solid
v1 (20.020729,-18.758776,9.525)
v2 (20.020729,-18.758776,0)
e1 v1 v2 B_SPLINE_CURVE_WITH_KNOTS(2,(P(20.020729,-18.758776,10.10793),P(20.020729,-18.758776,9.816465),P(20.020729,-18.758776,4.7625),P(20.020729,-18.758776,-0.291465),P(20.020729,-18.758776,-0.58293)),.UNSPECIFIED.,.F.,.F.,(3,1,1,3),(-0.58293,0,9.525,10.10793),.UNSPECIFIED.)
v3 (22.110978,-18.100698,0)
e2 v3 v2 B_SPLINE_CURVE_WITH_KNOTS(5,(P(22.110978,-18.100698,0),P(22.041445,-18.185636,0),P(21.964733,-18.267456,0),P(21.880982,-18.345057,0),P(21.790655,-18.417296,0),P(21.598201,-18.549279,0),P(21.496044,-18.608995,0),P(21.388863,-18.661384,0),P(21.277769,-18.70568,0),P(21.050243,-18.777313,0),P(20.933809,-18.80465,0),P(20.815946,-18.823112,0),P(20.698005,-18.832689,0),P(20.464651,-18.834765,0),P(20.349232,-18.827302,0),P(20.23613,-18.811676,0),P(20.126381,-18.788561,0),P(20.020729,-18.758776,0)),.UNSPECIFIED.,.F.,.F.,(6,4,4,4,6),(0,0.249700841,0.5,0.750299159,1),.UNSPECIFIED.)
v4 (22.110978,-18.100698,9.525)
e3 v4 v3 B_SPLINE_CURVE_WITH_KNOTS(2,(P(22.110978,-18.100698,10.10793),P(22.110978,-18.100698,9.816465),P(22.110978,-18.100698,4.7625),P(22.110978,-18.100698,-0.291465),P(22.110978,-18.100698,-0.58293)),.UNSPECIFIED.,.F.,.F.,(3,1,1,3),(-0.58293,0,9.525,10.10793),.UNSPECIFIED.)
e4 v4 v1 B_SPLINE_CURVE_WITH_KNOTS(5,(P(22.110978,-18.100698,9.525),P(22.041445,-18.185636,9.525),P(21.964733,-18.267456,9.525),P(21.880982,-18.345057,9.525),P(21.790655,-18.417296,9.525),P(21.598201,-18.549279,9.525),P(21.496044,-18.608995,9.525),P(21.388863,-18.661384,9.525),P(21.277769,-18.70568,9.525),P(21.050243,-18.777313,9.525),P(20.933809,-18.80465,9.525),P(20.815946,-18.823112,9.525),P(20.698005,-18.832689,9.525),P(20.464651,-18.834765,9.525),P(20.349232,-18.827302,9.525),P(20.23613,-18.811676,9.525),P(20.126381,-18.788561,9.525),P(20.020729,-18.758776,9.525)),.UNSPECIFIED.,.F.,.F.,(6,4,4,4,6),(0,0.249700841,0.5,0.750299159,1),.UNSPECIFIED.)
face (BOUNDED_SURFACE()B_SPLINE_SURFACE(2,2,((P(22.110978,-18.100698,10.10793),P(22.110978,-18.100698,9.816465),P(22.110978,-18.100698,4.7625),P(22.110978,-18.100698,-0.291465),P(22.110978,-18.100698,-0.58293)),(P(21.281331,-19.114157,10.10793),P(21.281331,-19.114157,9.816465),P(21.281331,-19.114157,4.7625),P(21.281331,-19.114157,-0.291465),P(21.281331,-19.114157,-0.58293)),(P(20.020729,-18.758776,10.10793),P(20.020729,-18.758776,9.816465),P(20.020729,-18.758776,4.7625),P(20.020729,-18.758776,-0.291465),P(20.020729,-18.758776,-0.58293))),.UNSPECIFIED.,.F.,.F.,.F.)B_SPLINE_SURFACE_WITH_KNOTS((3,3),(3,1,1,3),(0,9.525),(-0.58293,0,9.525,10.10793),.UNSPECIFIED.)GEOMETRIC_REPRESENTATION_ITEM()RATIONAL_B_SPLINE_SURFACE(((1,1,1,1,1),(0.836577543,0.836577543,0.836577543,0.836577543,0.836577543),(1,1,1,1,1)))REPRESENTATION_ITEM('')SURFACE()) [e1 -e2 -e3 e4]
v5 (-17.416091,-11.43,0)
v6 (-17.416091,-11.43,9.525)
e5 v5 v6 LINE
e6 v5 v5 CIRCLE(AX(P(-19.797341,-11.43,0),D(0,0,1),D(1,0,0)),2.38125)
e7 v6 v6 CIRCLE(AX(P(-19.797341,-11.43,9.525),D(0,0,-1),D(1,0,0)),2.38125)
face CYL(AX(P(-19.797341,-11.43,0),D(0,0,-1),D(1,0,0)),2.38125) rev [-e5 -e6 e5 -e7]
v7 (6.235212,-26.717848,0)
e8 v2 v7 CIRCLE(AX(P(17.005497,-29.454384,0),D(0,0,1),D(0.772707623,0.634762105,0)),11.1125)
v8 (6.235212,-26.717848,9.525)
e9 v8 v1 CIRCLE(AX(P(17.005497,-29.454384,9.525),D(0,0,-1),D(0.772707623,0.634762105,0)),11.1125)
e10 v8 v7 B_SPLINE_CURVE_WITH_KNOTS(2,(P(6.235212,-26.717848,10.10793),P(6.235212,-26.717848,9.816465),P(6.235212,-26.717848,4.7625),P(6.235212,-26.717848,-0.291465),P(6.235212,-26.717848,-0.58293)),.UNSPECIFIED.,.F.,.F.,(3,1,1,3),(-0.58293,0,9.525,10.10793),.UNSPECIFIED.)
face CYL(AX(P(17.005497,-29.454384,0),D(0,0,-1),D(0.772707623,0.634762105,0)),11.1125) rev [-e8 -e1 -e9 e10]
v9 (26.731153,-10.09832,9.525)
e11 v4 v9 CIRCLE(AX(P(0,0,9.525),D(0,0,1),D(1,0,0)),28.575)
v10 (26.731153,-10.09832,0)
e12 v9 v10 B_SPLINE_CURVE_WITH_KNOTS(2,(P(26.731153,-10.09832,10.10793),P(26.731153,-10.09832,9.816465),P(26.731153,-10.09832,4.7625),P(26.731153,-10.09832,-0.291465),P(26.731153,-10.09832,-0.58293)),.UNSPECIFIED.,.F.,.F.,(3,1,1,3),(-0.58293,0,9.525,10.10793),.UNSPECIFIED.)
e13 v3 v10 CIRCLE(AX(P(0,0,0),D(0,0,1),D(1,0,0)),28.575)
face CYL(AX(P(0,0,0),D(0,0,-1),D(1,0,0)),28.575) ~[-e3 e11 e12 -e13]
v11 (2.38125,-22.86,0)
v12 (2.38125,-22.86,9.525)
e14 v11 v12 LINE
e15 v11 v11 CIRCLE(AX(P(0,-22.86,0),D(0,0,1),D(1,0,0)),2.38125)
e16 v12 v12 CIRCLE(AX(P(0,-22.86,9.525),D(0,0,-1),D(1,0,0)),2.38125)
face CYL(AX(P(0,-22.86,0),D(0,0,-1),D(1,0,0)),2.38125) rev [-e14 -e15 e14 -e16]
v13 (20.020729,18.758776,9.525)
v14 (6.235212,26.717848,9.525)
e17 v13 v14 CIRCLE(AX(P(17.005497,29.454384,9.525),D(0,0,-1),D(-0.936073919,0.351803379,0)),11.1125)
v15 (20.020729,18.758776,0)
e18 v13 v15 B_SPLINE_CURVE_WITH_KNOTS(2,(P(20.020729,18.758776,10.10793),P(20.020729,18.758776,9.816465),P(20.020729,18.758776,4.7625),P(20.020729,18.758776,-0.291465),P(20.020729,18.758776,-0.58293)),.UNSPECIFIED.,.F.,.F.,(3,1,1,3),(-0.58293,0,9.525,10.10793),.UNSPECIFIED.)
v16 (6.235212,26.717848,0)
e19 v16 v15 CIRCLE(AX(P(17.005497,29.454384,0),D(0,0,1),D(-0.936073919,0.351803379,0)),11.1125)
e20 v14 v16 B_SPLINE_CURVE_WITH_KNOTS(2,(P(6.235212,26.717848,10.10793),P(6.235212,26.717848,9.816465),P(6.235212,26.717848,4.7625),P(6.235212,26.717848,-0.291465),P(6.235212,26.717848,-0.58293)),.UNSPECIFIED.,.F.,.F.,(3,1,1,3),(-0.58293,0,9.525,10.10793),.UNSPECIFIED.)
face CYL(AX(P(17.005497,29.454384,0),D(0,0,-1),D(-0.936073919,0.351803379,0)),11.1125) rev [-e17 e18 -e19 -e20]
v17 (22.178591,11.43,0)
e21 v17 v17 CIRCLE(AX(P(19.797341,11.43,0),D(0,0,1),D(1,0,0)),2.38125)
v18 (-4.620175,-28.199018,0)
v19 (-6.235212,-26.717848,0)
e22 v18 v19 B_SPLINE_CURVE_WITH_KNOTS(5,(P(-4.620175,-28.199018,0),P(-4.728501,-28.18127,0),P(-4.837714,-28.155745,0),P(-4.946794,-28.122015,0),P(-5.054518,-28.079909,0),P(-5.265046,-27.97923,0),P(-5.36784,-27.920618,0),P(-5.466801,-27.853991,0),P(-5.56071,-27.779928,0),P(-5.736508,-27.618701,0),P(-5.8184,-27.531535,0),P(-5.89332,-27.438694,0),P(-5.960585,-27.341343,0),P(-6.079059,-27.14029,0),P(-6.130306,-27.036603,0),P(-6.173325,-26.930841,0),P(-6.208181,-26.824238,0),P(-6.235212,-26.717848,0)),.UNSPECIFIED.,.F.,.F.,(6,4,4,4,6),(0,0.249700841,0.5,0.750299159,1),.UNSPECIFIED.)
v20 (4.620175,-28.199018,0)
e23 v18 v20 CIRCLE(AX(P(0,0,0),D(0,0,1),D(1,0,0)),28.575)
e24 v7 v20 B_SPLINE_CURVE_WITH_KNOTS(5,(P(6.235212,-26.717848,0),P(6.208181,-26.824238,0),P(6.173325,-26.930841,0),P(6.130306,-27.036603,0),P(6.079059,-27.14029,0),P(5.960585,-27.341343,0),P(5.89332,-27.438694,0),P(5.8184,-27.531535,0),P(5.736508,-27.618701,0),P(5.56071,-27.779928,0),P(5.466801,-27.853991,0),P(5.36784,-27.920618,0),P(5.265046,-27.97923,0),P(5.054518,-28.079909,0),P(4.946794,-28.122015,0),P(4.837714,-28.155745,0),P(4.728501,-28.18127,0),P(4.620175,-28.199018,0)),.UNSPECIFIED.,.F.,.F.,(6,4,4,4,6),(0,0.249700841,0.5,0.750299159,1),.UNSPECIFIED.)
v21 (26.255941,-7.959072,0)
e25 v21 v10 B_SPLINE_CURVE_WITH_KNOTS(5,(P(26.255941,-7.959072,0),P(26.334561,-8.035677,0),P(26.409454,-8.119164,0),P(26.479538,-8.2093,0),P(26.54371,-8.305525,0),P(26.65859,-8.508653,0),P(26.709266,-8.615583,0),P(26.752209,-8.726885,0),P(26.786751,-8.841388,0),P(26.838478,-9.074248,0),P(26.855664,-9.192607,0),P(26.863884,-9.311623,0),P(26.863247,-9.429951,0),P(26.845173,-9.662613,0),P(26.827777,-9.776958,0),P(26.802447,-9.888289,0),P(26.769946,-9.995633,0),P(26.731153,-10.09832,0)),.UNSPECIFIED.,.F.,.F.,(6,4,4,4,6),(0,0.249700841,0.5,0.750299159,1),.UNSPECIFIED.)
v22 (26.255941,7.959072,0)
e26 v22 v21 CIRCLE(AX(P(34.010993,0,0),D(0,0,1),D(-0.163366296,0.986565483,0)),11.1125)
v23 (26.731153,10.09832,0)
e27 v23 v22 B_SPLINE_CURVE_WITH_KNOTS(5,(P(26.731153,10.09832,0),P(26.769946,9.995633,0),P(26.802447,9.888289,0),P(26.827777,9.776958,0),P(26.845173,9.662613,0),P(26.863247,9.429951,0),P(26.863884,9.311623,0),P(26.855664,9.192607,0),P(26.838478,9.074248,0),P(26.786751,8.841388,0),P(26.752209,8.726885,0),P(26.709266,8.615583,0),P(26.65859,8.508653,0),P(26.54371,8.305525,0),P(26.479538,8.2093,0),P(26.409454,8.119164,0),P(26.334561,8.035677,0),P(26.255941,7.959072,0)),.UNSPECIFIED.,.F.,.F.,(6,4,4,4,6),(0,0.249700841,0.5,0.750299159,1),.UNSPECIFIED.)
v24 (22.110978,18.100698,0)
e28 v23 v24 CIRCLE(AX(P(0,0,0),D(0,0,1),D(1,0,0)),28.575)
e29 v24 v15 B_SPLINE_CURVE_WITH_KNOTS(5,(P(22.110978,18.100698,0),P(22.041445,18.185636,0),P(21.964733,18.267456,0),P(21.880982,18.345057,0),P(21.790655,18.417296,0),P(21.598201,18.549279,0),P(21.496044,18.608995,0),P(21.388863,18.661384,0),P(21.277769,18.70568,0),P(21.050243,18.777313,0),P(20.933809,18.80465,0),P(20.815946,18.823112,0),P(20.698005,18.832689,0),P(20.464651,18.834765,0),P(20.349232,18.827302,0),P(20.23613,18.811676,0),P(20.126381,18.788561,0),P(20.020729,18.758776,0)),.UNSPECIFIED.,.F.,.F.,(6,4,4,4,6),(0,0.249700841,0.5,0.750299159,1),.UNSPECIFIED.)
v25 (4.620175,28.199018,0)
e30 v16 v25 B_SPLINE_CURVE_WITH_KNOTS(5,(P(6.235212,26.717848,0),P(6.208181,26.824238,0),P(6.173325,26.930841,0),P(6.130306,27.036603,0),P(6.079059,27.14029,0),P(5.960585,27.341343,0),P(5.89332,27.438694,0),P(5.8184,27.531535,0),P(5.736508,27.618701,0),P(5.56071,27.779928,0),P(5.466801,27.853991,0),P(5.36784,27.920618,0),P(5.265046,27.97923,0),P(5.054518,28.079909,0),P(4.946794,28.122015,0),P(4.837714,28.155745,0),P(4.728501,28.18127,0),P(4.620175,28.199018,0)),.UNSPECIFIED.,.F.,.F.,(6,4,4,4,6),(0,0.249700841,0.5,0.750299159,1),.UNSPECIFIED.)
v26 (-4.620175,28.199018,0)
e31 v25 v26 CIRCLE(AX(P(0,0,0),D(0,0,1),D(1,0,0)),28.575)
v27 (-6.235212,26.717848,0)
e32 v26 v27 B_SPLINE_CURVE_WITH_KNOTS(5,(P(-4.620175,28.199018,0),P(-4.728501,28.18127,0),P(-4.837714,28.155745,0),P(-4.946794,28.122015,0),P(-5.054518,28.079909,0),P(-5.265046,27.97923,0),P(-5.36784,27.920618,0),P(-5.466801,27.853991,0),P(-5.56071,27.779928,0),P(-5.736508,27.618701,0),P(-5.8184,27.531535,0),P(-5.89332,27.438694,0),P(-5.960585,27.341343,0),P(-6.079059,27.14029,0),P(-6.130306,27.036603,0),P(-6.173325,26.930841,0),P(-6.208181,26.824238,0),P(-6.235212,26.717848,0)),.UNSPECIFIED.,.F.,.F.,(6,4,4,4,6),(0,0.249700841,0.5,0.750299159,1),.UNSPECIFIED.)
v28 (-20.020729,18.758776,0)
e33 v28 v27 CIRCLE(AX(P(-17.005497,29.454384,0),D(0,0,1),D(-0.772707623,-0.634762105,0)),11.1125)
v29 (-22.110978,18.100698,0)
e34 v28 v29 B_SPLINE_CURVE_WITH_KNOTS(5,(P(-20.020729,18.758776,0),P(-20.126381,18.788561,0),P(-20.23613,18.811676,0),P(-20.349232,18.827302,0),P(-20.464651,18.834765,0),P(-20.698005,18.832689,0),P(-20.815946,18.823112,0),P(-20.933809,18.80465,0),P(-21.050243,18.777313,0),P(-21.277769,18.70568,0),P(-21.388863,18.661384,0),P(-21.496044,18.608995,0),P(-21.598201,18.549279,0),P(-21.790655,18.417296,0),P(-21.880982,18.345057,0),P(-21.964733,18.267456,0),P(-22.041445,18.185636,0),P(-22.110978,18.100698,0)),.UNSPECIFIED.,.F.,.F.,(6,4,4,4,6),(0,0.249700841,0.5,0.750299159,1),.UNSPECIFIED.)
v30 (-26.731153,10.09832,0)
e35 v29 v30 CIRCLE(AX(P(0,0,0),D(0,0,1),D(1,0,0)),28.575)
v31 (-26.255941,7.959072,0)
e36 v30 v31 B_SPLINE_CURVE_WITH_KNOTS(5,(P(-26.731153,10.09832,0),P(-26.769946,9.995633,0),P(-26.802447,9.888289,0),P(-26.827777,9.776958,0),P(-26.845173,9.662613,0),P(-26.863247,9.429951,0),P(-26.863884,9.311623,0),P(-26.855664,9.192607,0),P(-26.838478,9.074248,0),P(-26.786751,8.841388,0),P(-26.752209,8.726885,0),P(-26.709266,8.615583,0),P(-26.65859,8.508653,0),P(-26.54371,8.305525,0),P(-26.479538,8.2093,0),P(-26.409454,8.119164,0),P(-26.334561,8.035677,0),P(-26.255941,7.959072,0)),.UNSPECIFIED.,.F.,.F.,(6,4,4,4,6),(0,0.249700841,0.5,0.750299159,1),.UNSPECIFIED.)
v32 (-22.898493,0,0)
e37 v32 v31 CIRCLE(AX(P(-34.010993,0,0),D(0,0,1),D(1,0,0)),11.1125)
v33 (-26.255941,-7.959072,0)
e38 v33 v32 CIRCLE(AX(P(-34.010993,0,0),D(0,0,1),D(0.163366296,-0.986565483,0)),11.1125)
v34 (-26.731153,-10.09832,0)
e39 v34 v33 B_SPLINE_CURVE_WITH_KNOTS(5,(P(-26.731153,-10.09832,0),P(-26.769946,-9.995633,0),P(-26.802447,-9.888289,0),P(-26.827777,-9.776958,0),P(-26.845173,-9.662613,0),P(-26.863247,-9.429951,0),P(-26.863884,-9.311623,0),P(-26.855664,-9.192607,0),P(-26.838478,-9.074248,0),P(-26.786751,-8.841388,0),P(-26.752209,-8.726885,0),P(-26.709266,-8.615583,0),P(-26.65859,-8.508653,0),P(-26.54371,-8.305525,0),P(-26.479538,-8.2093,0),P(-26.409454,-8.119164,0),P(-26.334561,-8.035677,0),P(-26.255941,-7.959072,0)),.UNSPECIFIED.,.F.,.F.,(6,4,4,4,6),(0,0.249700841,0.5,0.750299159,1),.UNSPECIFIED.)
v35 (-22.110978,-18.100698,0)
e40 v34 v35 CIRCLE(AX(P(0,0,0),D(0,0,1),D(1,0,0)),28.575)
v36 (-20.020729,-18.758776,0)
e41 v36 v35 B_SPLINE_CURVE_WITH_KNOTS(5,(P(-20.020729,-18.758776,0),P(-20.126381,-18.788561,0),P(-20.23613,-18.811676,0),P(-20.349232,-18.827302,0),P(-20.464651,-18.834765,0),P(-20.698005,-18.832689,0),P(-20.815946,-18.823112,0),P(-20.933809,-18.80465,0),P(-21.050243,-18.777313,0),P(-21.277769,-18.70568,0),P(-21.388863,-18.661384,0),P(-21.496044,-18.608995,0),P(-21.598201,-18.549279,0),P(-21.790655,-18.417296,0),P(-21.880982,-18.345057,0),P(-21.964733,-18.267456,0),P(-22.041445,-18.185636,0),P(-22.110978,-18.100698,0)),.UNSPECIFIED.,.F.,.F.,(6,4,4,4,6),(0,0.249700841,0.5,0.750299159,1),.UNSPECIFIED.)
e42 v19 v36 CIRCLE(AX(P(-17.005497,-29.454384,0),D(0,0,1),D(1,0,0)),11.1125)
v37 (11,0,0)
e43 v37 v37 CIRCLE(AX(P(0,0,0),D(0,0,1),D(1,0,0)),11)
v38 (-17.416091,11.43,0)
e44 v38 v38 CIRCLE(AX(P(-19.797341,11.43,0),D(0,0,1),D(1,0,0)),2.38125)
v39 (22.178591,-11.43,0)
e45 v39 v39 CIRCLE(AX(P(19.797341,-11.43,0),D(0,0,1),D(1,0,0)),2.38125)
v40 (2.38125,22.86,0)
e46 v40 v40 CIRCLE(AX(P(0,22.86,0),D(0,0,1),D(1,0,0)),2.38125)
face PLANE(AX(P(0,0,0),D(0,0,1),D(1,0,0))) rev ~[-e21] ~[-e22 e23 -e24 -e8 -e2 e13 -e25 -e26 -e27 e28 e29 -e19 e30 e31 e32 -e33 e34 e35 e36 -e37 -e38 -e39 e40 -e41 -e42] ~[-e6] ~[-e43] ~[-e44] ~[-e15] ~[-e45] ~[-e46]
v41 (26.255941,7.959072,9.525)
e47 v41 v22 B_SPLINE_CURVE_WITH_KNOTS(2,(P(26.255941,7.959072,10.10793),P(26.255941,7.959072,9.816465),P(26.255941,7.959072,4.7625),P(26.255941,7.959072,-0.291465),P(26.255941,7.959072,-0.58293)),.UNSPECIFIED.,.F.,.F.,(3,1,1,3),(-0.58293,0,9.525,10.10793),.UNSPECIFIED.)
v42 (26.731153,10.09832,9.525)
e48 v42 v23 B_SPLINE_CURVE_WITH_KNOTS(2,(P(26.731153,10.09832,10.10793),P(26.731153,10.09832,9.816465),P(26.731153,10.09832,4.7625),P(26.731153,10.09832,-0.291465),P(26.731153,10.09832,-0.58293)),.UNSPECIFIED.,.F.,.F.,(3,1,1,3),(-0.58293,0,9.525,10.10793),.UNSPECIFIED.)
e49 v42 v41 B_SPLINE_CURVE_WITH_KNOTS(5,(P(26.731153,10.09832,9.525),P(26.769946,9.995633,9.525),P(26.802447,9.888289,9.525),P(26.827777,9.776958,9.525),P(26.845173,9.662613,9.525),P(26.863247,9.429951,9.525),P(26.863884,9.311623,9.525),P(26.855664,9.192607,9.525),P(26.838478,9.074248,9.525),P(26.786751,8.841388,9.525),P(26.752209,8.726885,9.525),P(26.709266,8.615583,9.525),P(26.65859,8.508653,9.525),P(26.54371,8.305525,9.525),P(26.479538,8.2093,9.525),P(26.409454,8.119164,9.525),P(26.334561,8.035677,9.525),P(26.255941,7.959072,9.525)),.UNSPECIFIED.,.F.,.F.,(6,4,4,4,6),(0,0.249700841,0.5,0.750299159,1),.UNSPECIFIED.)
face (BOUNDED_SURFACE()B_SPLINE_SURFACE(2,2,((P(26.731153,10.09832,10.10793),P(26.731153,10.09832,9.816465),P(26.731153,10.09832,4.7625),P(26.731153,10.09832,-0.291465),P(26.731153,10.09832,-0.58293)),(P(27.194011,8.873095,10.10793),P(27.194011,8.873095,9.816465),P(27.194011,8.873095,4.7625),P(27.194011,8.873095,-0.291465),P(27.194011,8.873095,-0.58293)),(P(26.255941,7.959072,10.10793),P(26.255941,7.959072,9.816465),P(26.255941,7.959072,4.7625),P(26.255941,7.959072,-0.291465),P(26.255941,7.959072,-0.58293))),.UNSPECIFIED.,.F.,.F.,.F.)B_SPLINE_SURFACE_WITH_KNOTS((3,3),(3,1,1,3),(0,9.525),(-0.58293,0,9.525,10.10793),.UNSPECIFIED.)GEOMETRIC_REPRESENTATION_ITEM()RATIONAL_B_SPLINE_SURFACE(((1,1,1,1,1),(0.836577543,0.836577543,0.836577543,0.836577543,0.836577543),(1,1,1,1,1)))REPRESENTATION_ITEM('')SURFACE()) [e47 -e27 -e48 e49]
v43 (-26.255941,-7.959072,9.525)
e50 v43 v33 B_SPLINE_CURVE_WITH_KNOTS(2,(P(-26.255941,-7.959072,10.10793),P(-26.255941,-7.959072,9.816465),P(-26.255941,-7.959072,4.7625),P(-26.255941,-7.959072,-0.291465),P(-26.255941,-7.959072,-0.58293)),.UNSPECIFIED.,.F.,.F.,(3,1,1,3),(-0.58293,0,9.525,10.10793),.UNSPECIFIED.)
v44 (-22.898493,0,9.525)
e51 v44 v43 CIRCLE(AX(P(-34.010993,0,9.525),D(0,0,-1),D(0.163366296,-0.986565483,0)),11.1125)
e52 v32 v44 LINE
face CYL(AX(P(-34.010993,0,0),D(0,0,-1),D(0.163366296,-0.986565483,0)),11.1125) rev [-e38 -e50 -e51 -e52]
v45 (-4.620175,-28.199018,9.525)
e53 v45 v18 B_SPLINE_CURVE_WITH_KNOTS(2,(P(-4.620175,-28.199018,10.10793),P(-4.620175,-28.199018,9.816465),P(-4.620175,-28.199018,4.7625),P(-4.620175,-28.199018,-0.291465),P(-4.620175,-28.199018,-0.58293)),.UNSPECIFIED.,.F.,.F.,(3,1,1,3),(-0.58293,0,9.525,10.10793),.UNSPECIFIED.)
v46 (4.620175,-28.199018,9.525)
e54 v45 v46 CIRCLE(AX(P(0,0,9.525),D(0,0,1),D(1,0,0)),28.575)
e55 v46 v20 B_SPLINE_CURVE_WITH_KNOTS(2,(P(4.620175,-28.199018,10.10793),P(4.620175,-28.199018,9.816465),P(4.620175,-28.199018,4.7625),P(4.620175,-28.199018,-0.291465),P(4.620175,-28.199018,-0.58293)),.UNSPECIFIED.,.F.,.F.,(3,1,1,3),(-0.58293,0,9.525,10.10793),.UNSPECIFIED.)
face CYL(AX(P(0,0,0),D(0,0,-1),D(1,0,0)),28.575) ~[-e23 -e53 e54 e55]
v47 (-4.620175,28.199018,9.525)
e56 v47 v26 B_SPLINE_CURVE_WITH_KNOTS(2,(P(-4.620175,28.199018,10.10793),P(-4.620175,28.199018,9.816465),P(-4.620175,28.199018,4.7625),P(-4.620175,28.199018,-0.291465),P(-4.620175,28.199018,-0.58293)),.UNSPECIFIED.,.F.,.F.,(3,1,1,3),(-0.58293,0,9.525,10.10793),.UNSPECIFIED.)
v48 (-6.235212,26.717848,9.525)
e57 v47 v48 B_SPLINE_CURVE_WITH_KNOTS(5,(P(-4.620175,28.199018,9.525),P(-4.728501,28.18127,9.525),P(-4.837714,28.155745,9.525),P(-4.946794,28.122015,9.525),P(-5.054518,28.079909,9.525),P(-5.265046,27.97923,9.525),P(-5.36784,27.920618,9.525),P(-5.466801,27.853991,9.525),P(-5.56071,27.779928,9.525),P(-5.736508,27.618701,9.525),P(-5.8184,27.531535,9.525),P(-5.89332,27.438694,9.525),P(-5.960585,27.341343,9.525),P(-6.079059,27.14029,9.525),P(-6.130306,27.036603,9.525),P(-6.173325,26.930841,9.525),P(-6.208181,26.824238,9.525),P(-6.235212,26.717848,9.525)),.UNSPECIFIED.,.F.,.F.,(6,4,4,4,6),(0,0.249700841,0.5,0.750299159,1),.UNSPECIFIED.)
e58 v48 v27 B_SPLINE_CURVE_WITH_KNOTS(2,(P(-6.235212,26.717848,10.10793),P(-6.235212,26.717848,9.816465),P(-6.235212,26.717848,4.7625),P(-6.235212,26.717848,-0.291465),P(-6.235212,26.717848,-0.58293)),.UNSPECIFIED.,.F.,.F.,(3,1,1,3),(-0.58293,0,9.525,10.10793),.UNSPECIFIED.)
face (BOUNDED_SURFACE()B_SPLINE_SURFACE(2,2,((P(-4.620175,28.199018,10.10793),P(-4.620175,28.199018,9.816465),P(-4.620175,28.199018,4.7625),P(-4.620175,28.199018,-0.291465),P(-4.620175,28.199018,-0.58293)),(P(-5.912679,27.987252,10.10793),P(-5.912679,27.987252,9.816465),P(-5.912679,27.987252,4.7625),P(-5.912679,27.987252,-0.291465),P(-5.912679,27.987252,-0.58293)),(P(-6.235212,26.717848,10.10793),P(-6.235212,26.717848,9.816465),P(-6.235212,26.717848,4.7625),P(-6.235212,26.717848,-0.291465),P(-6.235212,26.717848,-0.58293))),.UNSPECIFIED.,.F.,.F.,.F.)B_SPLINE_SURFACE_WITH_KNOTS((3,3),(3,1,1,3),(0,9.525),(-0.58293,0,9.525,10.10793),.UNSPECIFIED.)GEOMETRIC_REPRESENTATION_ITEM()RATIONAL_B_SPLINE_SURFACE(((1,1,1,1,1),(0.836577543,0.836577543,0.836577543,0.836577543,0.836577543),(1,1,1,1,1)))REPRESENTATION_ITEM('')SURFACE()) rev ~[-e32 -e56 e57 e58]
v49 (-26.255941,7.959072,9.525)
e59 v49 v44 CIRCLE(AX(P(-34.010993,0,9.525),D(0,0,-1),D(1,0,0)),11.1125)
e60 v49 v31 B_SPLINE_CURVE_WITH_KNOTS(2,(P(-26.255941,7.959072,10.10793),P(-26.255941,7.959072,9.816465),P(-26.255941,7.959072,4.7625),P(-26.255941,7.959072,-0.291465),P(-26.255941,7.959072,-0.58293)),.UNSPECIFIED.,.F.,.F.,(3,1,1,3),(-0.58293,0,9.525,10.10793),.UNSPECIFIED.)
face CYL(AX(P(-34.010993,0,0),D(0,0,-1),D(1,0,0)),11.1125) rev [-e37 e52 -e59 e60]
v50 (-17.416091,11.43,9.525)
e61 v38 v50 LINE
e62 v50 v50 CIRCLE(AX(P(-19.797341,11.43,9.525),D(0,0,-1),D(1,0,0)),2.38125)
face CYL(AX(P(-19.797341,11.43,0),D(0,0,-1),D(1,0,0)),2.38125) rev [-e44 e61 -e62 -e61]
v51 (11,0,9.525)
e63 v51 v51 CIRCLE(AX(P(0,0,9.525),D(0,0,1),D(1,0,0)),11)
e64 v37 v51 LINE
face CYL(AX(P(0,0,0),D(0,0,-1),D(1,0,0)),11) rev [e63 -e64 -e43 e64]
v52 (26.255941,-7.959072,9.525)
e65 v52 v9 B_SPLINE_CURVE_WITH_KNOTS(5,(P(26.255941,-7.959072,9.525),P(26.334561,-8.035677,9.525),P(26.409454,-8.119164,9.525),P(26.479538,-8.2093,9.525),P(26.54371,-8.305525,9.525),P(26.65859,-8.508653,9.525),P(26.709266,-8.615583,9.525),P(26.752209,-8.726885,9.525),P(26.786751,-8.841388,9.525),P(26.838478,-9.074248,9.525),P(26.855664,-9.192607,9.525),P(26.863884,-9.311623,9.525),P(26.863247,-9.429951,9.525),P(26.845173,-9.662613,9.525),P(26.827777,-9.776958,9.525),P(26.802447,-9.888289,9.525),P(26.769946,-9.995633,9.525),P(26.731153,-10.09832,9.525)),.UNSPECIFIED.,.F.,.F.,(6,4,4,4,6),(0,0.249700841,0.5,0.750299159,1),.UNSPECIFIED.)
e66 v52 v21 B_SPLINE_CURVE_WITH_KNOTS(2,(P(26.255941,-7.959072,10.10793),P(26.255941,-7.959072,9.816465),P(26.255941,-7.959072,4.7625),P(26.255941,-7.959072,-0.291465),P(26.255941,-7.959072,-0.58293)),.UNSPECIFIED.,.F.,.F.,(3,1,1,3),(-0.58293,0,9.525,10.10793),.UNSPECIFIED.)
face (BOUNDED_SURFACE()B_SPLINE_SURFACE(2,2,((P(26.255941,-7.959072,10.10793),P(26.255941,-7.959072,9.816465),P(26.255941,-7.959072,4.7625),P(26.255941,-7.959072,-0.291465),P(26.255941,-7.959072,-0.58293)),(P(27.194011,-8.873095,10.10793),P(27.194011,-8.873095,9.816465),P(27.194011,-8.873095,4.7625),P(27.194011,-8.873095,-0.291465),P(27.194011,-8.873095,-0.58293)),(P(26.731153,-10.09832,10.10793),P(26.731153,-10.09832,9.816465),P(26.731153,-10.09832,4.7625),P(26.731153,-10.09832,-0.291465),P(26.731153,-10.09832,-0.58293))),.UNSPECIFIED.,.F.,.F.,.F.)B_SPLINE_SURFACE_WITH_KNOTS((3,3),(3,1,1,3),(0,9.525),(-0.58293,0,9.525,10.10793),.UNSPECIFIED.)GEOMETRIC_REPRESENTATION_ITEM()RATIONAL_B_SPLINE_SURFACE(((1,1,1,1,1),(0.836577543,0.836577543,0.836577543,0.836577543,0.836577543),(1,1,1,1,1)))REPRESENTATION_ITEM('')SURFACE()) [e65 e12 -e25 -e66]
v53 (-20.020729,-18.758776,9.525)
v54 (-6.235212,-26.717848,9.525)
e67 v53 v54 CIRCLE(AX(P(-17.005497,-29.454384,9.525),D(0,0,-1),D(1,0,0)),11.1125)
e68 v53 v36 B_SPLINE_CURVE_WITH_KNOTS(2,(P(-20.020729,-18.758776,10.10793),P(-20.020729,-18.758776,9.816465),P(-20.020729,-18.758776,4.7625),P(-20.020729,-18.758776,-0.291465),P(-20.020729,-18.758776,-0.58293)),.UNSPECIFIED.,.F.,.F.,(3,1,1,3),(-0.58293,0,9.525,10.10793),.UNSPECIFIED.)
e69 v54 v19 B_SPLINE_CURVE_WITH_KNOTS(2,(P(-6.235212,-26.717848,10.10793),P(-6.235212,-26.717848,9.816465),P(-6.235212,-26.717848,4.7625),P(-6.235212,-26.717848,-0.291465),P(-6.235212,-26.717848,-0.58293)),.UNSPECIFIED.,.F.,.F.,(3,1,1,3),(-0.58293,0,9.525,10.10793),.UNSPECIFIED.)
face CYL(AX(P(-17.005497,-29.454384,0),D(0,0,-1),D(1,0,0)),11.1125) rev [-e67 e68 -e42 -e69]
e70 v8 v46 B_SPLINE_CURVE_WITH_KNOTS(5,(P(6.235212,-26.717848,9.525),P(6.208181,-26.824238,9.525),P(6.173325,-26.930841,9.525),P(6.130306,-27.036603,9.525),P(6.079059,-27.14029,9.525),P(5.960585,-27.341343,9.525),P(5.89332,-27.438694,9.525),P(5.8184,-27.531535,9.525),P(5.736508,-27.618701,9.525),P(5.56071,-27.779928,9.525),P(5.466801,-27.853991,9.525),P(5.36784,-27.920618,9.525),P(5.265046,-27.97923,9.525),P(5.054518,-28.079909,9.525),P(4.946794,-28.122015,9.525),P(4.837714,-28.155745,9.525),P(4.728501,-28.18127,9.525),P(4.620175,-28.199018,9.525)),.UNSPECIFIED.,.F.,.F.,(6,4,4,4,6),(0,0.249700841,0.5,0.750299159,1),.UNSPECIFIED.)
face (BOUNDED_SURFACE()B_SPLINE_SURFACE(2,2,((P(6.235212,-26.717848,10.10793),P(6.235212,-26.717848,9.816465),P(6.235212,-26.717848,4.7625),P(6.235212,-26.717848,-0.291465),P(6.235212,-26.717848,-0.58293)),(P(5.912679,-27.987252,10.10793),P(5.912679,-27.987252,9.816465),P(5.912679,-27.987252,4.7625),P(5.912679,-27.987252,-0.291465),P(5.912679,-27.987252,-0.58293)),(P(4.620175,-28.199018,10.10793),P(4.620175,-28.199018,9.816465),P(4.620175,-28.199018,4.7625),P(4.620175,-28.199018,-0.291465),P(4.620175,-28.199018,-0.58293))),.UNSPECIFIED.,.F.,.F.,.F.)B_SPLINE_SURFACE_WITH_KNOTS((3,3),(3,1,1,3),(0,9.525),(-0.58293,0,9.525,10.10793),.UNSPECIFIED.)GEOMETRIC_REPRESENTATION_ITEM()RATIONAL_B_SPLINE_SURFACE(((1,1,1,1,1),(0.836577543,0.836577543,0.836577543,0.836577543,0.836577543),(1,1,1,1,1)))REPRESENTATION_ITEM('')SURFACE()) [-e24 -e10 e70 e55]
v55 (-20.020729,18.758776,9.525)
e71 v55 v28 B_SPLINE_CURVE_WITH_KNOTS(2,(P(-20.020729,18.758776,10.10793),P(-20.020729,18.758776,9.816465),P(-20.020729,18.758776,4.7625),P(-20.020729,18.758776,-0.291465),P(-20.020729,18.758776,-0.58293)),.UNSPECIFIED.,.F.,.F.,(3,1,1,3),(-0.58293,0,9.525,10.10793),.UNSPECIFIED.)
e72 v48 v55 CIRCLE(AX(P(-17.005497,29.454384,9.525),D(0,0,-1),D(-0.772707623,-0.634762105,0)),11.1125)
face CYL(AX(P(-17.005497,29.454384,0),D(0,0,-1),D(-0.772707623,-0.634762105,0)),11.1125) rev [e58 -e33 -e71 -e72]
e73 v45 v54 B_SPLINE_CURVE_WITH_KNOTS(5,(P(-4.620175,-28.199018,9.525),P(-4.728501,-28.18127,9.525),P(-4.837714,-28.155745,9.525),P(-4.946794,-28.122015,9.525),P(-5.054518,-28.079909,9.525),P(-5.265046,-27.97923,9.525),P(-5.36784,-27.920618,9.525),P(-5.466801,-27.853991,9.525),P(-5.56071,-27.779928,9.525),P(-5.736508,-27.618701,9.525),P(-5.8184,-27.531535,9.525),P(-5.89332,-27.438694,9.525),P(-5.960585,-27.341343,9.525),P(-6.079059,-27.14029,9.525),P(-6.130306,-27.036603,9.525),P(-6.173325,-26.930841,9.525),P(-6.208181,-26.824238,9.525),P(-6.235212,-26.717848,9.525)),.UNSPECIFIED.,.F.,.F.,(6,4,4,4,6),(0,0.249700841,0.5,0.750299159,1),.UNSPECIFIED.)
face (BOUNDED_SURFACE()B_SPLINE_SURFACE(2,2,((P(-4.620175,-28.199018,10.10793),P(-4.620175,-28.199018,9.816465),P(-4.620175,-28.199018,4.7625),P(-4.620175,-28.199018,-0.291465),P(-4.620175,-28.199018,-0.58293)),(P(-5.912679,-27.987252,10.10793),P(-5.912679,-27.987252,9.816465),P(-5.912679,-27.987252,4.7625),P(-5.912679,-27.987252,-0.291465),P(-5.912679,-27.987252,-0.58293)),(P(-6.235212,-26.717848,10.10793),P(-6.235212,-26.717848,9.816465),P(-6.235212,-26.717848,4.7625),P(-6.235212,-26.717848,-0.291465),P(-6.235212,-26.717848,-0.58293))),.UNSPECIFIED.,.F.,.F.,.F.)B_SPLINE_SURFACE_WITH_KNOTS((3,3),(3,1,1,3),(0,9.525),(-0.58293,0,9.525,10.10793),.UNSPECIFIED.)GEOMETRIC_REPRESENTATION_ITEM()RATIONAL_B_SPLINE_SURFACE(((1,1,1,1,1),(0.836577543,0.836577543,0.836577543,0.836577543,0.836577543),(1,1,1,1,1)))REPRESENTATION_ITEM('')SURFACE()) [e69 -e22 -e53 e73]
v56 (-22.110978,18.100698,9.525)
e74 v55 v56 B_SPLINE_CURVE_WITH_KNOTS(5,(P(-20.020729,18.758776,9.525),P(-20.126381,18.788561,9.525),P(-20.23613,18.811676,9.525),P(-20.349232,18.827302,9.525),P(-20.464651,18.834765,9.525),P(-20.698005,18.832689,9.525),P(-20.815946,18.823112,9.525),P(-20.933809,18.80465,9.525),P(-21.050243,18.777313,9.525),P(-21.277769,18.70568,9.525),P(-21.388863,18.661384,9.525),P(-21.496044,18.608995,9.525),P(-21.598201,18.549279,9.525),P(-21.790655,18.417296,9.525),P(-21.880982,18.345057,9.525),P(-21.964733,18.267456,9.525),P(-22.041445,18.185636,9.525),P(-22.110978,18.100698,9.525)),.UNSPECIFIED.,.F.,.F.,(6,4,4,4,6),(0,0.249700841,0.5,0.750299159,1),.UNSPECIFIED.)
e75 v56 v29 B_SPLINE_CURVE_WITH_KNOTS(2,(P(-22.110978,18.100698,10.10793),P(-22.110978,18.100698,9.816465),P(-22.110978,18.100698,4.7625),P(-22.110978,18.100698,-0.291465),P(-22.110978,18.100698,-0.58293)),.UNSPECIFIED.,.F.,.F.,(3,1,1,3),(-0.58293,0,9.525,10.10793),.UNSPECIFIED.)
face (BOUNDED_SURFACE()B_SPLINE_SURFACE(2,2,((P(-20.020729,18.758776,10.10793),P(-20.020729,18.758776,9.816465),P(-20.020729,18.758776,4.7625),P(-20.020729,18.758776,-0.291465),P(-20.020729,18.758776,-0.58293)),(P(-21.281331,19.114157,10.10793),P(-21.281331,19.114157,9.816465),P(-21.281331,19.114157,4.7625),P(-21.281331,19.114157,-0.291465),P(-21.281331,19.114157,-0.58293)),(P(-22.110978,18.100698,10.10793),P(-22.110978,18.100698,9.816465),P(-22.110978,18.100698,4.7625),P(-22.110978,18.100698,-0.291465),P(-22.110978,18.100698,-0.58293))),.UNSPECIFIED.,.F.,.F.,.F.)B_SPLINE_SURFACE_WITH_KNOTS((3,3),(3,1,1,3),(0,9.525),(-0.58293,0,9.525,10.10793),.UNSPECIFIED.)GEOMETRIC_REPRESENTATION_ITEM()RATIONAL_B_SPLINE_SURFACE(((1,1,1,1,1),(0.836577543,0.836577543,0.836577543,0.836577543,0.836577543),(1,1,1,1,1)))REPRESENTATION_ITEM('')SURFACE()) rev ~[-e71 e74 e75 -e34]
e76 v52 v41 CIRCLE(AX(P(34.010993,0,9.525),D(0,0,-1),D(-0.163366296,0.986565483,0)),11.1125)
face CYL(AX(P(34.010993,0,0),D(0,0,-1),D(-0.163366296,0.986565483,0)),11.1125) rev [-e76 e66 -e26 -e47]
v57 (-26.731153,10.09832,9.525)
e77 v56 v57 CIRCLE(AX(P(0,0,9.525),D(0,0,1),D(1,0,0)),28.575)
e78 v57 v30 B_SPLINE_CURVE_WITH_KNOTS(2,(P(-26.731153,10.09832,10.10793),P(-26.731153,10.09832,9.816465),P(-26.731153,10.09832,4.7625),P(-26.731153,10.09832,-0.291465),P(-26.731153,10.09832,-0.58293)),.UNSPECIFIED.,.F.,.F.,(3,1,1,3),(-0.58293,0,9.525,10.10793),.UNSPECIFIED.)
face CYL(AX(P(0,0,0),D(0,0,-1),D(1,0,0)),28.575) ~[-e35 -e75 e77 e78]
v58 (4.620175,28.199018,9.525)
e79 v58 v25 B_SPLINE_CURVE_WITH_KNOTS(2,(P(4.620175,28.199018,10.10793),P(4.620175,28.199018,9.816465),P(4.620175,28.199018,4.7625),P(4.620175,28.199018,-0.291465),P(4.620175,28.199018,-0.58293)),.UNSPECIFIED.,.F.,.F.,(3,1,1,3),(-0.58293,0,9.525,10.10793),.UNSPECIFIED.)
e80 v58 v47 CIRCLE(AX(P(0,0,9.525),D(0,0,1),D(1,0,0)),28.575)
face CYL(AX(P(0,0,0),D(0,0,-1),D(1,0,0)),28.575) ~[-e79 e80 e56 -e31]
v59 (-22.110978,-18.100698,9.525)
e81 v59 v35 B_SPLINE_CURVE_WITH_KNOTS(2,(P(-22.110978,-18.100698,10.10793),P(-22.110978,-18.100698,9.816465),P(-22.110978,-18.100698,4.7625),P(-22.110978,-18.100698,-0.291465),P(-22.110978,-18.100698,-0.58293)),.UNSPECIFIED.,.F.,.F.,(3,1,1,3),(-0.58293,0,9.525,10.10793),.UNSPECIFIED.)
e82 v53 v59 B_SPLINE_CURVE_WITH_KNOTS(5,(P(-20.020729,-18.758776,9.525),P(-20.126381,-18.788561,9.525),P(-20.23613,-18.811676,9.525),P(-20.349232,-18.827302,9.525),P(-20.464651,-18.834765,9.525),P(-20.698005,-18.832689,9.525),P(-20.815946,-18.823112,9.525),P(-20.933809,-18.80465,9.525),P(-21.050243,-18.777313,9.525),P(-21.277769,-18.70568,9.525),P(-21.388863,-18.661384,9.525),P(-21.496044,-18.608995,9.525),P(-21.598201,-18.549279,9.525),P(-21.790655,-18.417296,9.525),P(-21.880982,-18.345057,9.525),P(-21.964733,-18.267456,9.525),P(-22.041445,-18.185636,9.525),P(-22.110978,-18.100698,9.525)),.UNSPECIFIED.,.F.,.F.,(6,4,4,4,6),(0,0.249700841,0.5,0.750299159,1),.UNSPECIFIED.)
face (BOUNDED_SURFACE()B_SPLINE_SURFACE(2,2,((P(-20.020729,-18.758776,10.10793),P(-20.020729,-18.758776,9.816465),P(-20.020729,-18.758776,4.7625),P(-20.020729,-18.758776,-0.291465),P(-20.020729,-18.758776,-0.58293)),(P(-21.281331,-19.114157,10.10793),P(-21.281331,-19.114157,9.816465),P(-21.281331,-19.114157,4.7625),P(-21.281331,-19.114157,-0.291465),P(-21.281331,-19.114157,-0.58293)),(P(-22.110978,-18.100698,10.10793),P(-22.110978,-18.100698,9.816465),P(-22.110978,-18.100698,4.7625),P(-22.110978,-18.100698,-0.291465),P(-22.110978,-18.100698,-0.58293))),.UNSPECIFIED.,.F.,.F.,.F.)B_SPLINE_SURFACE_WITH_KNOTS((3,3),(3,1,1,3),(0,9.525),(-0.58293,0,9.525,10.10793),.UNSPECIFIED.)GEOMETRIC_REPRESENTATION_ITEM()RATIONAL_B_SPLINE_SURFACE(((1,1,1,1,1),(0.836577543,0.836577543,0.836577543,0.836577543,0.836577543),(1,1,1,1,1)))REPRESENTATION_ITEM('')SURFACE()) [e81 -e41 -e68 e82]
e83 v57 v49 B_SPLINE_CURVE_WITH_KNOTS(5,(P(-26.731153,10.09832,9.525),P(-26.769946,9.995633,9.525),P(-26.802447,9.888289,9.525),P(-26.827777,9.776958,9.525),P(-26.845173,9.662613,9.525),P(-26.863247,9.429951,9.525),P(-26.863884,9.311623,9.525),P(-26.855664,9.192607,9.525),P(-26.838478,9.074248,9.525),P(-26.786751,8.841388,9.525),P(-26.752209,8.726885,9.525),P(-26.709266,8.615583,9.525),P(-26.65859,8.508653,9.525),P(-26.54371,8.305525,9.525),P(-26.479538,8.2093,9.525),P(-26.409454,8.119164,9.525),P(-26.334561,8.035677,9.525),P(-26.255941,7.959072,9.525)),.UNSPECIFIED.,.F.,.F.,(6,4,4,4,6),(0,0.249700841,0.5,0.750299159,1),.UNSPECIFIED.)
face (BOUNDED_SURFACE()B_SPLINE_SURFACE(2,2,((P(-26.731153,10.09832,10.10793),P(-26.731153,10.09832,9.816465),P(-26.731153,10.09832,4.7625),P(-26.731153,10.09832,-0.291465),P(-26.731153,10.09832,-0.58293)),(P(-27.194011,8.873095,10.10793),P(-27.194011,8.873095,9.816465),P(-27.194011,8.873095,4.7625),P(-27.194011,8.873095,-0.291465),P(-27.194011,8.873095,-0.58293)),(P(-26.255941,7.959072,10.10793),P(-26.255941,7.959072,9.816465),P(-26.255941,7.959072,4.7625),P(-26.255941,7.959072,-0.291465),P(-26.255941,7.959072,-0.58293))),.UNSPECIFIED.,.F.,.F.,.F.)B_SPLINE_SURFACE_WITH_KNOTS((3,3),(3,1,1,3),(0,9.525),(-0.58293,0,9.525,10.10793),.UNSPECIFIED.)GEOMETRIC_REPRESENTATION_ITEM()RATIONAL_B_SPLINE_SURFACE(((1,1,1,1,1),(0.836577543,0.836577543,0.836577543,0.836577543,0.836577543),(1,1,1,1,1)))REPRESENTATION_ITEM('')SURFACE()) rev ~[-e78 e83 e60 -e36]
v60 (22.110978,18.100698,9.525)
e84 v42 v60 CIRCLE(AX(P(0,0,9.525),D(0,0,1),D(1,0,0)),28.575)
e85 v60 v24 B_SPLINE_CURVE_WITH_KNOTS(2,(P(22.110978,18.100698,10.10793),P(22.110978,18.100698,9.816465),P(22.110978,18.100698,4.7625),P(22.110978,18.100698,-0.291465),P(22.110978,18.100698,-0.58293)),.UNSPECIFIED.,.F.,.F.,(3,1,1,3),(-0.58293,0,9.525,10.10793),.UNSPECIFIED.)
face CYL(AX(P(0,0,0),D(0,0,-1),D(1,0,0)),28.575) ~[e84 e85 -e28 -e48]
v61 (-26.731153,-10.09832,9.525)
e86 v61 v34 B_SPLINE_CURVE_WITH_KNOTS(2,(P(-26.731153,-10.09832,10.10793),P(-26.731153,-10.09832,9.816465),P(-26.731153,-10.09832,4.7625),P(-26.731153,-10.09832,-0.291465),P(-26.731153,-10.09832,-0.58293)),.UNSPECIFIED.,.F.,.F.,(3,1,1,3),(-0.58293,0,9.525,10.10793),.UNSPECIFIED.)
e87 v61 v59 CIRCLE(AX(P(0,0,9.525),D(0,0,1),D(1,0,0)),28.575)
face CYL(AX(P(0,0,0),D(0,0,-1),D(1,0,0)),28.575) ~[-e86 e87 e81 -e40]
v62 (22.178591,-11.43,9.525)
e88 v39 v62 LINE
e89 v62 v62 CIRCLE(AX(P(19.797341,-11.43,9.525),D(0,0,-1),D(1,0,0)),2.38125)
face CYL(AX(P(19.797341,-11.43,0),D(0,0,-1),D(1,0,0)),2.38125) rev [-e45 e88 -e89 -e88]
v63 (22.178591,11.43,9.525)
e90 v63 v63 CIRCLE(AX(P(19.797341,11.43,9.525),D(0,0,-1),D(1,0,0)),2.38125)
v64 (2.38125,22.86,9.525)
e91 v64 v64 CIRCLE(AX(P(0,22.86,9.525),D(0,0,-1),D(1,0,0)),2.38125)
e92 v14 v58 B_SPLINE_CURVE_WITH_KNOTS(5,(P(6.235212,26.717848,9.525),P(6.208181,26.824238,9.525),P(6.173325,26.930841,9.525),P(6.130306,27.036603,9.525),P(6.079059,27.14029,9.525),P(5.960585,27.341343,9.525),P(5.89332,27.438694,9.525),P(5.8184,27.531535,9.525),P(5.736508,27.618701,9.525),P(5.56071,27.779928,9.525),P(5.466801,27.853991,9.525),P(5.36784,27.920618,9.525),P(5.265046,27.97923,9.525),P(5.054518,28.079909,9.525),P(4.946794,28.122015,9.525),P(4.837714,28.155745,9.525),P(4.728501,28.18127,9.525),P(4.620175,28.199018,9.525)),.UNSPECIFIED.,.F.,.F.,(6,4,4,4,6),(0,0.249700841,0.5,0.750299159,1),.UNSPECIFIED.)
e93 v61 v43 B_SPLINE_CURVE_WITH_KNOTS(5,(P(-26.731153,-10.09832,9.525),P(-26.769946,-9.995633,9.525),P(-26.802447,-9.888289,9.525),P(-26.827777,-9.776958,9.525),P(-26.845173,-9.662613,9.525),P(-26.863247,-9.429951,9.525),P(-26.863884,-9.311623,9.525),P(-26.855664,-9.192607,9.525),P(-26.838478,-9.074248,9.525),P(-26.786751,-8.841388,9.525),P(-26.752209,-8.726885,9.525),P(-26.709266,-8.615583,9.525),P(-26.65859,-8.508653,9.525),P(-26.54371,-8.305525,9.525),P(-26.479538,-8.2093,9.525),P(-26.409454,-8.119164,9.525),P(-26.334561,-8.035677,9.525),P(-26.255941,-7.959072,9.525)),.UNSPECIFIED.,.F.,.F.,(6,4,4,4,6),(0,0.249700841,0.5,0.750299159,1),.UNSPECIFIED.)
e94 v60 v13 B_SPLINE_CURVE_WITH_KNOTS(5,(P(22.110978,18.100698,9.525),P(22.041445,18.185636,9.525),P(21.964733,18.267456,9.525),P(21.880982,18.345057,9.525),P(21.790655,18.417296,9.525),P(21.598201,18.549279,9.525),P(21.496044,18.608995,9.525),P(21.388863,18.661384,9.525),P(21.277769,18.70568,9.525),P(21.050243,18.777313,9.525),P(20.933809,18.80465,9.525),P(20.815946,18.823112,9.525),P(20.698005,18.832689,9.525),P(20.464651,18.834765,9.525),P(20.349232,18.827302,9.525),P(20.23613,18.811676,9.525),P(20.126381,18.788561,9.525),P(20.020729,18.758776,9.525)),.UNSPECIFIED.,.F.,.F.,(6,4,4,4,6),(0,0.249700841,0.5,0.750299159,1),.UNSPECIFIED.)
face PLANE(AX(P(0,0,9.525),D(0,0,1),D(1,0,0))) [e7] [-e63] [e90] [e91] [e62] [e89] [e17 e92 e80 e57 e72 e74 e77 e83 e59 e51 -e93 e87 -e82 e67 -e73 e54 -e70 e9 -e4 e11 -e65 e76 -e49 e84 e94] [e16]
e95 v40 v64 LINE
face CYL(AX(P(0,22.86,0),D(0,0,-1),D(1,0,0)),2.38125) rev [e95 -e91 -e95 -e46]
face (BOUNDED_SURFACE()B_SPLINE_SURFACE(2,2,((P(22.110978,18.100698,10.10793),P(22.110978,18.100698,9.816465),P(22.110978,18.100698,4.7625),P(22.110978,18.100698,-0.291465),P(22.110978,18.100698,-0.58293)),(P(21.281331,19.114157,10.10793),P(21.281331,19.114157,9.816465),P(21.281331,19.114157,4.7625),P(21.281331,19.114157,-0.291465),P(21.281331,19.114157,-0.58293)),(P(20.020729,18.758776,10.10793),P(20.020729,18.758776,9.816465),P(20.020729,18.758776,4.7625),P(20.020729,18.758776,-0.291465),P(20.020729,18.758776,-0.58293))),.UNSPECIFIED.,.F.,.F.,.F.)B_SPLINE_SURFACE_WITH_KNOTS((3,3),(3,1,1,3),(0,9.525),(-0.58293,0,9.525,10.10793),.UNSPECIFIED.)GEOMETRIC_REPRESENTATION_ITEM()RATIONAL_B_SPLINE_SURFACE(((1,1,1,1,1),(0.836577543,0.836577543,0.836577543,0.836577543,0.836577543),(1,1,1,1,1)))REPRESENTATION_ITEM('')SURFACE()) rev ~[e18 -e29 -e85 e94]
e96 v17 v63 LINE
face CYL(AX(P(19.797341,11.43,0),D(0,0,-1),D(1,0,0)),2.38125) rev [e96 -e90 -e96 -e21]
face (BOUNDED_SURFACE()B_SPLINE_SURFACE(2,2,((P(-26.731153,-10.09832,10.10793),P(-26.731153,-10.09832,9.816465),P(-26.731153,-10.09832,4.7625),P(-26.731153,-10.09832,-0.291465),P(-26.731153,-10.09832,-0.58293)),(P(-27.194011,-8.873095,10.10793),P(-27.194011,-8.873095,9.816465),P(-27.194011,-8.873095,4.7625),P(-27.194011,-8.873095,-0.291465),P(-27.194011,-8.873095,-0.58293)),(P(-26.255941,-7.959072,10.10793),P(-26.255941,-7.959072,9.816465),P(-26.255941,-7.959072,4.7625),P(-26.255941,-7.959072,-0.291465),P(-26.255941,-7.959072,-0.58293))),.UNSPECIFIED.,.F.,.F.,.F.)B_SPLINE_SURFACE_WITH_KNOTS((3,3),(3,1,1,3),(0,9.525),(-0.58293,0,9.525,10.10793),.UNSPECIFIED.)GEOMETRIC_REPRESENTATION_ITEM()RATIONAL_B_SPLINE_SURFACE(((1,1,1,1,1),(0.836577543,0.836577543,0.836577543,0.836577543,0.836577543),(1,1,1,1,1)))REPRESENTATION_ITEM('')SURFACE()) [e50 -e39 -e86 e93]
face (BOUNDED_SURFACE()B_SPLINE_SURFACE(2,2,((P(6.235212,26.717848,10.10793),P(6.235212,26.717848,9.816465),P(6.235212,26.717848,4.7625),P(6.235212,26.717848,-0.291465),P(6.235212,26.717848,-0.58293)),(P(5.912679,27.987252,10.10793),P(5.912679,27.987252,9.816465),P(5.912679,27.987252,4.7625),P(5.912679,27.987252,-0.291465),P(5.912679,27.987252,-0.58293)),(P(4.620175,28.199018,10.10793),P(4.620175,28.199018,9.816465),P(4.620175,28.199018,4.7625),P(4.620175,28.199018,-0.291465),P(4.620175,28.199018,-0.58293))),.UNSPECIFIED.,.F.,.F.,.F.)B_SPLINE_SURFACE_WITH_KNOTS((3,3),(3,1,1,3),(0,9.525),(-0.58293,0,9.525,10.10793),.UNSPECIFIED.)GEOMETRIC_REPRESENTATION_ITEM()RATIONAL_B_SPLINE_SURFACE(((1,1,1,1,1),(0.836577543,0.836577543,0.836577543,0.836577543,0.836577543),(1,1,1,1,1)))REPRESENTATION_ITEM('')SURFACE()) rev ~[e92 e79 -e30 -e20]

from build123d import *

# Parameters (mm, degrees)
F0_R     = 28.575
F0_R_2   = 11
F1_DEPTH = 9.525
F3_DEPTH = 25.4
F4_R     = 2.38125
F5_DEPTH = 25.4
F6_R     = 2


with BuildPart() as f1:
    # F0 (on Top) → F1 (new body)
    with BuildSketch(Plane.XY):
        Circle(F0_R)
        Circle(F0_R_2, mode=Mode.SUBTRACT)
    extrude(amount=F1_DEPTH)

    # F2 (on Top) → F3 (cut)
    with BuildSketch(Plane.XY):
        with BuildLine():
            ThreePointArc((6.6033751745, -33.3637991738), (17.0054966041, -29.4543841262), (25.592210064, -22.4005902387))
            ThreePointArc((25.592210064, -22.4005902387), (11.4492466041, -19.8306768266), (6.6033751745, -33.3637991738))
        make_face()
        with BuildLine():
            ThreePointArc((-25.592210064, -22.4005902387), (-17.0054966041, -29.4543841262), (-6.6033751745, -33.3637991738))
            ThreePointArc((-6.6033751745, -33.3637991738), (-6.0720335059, -31.4411002438), (-5.8929966041, -29.4543841262))
            ThreePointArc((-5.8929966041, -29.4543841262), (-13.259311683, -18.9923692731), (-25.592210064, -22.4005902387))
        make_face()
        with BuildLine():
            ThreePointArc((-22.8984932081, 0), (-25.5356944726, 7.187278177), (-32.1955852385, 10.9632089351))
            ThreePointArc((-32.1955852385, 10.9632089351), (-34.0109932081, 0), (-32.1955852385, -10.9632089351))
            ThreePointArc((-32.1955852385, -10.9632089351), (-25.5356944726, -7.187278177), (-22.8984932081, 0))
        make_face()
        with BuildLine():
            ThreePointArc((-5.8929966041, 29.4543841262), (-6.0720335059, 31.4411002438), (-6.6033751745, 33.3637991738))
            ThreePointArc((-6.6033751745, 33.3637991738), (-17.0054966041, 29.4543841262), (-25.592210064, 22.4005902387))
            ThreePointArc((-25.592210064, 22.4005902387), (-13.259311683, 18.9923692731), (-5.8929966041, 29.4543841262))
        make_face()
        with BuildLine():
            ThreePointArc((6.6033751745, 33.3637991738), (11.4492466041, 19.8306768266), (25.592210064, 22.4005902387))
            ThreePointArc((25.592210064, 22.4005902387), (17.0054966041, 29.4543841262), (6.6033751745, 33.3637991738))
        make_face()
        with BuildLine():
            ThreePointArc((32.1955852385, -10.9632089351), (33.5540719577, -5.55625), (34.0109932081, 0))
            ThreePointArc((34.0109932081, 0), (33.5540719577, 5.55625), (32.1955852385, 10.9632089351))
            ThreePointArc((32.1955852385, 10.9632089351), (22.8984932081, 0), (32.1955852385, -10.9632089351))
        make_face()
    extrude(amount=F3_DEPTH, mode=Mode.SUBTRACT)

    # F4 (on Top) → F5 (cut)
    with BuildSketch(Plane.XY):
        with Locations((0, 22.86)):
            Circle(F4_R)
        with Locations((-19.7973407305, 11.43)):
            Circle(F4_R)
        with Locations((-19.7973407305, -11.43)):
            Circle(F4_R)
        with Locations((0, -22.86)):
            Circle(F4_R)
        with Locations((19.7973407305, -11.43)):
            Circle(F4_R)
        with Locations((19.7973407305, 11.43)):
            Circle(F4_R)
    extrude(amount=F5_DEPTH, mode=Mode.SUBTRACT)

    # F6
    f6_edges = [f1.edges().sort_by_distance(p)[0] for p in [
        (-5.996854, -27.938654, 4.7625),
        (-21.197157, -19.162755, 4.7625),
        (-27.194011, -8.775899, 4.7625),
        (-27.194011, 8.775899, 4.7625),
        (-21.197157, 19.162755, 4.7625),
        (-5.996854, 27.938654, 4.7625),
        (21.197157, 19.162755, 4.7625),
        (5.996854, 27.938654, 4.7625),
        (27.194011, 8.775899, 4.7625),
        (27.194011, -8.775899, 4.7625),
        (21.197157, -19.162755, 4.7625),
        (5.996854, -27.938654, 4.7625),
    ]]
    fillet(f6_edges, radius=F6_R)


solid = f1.part
